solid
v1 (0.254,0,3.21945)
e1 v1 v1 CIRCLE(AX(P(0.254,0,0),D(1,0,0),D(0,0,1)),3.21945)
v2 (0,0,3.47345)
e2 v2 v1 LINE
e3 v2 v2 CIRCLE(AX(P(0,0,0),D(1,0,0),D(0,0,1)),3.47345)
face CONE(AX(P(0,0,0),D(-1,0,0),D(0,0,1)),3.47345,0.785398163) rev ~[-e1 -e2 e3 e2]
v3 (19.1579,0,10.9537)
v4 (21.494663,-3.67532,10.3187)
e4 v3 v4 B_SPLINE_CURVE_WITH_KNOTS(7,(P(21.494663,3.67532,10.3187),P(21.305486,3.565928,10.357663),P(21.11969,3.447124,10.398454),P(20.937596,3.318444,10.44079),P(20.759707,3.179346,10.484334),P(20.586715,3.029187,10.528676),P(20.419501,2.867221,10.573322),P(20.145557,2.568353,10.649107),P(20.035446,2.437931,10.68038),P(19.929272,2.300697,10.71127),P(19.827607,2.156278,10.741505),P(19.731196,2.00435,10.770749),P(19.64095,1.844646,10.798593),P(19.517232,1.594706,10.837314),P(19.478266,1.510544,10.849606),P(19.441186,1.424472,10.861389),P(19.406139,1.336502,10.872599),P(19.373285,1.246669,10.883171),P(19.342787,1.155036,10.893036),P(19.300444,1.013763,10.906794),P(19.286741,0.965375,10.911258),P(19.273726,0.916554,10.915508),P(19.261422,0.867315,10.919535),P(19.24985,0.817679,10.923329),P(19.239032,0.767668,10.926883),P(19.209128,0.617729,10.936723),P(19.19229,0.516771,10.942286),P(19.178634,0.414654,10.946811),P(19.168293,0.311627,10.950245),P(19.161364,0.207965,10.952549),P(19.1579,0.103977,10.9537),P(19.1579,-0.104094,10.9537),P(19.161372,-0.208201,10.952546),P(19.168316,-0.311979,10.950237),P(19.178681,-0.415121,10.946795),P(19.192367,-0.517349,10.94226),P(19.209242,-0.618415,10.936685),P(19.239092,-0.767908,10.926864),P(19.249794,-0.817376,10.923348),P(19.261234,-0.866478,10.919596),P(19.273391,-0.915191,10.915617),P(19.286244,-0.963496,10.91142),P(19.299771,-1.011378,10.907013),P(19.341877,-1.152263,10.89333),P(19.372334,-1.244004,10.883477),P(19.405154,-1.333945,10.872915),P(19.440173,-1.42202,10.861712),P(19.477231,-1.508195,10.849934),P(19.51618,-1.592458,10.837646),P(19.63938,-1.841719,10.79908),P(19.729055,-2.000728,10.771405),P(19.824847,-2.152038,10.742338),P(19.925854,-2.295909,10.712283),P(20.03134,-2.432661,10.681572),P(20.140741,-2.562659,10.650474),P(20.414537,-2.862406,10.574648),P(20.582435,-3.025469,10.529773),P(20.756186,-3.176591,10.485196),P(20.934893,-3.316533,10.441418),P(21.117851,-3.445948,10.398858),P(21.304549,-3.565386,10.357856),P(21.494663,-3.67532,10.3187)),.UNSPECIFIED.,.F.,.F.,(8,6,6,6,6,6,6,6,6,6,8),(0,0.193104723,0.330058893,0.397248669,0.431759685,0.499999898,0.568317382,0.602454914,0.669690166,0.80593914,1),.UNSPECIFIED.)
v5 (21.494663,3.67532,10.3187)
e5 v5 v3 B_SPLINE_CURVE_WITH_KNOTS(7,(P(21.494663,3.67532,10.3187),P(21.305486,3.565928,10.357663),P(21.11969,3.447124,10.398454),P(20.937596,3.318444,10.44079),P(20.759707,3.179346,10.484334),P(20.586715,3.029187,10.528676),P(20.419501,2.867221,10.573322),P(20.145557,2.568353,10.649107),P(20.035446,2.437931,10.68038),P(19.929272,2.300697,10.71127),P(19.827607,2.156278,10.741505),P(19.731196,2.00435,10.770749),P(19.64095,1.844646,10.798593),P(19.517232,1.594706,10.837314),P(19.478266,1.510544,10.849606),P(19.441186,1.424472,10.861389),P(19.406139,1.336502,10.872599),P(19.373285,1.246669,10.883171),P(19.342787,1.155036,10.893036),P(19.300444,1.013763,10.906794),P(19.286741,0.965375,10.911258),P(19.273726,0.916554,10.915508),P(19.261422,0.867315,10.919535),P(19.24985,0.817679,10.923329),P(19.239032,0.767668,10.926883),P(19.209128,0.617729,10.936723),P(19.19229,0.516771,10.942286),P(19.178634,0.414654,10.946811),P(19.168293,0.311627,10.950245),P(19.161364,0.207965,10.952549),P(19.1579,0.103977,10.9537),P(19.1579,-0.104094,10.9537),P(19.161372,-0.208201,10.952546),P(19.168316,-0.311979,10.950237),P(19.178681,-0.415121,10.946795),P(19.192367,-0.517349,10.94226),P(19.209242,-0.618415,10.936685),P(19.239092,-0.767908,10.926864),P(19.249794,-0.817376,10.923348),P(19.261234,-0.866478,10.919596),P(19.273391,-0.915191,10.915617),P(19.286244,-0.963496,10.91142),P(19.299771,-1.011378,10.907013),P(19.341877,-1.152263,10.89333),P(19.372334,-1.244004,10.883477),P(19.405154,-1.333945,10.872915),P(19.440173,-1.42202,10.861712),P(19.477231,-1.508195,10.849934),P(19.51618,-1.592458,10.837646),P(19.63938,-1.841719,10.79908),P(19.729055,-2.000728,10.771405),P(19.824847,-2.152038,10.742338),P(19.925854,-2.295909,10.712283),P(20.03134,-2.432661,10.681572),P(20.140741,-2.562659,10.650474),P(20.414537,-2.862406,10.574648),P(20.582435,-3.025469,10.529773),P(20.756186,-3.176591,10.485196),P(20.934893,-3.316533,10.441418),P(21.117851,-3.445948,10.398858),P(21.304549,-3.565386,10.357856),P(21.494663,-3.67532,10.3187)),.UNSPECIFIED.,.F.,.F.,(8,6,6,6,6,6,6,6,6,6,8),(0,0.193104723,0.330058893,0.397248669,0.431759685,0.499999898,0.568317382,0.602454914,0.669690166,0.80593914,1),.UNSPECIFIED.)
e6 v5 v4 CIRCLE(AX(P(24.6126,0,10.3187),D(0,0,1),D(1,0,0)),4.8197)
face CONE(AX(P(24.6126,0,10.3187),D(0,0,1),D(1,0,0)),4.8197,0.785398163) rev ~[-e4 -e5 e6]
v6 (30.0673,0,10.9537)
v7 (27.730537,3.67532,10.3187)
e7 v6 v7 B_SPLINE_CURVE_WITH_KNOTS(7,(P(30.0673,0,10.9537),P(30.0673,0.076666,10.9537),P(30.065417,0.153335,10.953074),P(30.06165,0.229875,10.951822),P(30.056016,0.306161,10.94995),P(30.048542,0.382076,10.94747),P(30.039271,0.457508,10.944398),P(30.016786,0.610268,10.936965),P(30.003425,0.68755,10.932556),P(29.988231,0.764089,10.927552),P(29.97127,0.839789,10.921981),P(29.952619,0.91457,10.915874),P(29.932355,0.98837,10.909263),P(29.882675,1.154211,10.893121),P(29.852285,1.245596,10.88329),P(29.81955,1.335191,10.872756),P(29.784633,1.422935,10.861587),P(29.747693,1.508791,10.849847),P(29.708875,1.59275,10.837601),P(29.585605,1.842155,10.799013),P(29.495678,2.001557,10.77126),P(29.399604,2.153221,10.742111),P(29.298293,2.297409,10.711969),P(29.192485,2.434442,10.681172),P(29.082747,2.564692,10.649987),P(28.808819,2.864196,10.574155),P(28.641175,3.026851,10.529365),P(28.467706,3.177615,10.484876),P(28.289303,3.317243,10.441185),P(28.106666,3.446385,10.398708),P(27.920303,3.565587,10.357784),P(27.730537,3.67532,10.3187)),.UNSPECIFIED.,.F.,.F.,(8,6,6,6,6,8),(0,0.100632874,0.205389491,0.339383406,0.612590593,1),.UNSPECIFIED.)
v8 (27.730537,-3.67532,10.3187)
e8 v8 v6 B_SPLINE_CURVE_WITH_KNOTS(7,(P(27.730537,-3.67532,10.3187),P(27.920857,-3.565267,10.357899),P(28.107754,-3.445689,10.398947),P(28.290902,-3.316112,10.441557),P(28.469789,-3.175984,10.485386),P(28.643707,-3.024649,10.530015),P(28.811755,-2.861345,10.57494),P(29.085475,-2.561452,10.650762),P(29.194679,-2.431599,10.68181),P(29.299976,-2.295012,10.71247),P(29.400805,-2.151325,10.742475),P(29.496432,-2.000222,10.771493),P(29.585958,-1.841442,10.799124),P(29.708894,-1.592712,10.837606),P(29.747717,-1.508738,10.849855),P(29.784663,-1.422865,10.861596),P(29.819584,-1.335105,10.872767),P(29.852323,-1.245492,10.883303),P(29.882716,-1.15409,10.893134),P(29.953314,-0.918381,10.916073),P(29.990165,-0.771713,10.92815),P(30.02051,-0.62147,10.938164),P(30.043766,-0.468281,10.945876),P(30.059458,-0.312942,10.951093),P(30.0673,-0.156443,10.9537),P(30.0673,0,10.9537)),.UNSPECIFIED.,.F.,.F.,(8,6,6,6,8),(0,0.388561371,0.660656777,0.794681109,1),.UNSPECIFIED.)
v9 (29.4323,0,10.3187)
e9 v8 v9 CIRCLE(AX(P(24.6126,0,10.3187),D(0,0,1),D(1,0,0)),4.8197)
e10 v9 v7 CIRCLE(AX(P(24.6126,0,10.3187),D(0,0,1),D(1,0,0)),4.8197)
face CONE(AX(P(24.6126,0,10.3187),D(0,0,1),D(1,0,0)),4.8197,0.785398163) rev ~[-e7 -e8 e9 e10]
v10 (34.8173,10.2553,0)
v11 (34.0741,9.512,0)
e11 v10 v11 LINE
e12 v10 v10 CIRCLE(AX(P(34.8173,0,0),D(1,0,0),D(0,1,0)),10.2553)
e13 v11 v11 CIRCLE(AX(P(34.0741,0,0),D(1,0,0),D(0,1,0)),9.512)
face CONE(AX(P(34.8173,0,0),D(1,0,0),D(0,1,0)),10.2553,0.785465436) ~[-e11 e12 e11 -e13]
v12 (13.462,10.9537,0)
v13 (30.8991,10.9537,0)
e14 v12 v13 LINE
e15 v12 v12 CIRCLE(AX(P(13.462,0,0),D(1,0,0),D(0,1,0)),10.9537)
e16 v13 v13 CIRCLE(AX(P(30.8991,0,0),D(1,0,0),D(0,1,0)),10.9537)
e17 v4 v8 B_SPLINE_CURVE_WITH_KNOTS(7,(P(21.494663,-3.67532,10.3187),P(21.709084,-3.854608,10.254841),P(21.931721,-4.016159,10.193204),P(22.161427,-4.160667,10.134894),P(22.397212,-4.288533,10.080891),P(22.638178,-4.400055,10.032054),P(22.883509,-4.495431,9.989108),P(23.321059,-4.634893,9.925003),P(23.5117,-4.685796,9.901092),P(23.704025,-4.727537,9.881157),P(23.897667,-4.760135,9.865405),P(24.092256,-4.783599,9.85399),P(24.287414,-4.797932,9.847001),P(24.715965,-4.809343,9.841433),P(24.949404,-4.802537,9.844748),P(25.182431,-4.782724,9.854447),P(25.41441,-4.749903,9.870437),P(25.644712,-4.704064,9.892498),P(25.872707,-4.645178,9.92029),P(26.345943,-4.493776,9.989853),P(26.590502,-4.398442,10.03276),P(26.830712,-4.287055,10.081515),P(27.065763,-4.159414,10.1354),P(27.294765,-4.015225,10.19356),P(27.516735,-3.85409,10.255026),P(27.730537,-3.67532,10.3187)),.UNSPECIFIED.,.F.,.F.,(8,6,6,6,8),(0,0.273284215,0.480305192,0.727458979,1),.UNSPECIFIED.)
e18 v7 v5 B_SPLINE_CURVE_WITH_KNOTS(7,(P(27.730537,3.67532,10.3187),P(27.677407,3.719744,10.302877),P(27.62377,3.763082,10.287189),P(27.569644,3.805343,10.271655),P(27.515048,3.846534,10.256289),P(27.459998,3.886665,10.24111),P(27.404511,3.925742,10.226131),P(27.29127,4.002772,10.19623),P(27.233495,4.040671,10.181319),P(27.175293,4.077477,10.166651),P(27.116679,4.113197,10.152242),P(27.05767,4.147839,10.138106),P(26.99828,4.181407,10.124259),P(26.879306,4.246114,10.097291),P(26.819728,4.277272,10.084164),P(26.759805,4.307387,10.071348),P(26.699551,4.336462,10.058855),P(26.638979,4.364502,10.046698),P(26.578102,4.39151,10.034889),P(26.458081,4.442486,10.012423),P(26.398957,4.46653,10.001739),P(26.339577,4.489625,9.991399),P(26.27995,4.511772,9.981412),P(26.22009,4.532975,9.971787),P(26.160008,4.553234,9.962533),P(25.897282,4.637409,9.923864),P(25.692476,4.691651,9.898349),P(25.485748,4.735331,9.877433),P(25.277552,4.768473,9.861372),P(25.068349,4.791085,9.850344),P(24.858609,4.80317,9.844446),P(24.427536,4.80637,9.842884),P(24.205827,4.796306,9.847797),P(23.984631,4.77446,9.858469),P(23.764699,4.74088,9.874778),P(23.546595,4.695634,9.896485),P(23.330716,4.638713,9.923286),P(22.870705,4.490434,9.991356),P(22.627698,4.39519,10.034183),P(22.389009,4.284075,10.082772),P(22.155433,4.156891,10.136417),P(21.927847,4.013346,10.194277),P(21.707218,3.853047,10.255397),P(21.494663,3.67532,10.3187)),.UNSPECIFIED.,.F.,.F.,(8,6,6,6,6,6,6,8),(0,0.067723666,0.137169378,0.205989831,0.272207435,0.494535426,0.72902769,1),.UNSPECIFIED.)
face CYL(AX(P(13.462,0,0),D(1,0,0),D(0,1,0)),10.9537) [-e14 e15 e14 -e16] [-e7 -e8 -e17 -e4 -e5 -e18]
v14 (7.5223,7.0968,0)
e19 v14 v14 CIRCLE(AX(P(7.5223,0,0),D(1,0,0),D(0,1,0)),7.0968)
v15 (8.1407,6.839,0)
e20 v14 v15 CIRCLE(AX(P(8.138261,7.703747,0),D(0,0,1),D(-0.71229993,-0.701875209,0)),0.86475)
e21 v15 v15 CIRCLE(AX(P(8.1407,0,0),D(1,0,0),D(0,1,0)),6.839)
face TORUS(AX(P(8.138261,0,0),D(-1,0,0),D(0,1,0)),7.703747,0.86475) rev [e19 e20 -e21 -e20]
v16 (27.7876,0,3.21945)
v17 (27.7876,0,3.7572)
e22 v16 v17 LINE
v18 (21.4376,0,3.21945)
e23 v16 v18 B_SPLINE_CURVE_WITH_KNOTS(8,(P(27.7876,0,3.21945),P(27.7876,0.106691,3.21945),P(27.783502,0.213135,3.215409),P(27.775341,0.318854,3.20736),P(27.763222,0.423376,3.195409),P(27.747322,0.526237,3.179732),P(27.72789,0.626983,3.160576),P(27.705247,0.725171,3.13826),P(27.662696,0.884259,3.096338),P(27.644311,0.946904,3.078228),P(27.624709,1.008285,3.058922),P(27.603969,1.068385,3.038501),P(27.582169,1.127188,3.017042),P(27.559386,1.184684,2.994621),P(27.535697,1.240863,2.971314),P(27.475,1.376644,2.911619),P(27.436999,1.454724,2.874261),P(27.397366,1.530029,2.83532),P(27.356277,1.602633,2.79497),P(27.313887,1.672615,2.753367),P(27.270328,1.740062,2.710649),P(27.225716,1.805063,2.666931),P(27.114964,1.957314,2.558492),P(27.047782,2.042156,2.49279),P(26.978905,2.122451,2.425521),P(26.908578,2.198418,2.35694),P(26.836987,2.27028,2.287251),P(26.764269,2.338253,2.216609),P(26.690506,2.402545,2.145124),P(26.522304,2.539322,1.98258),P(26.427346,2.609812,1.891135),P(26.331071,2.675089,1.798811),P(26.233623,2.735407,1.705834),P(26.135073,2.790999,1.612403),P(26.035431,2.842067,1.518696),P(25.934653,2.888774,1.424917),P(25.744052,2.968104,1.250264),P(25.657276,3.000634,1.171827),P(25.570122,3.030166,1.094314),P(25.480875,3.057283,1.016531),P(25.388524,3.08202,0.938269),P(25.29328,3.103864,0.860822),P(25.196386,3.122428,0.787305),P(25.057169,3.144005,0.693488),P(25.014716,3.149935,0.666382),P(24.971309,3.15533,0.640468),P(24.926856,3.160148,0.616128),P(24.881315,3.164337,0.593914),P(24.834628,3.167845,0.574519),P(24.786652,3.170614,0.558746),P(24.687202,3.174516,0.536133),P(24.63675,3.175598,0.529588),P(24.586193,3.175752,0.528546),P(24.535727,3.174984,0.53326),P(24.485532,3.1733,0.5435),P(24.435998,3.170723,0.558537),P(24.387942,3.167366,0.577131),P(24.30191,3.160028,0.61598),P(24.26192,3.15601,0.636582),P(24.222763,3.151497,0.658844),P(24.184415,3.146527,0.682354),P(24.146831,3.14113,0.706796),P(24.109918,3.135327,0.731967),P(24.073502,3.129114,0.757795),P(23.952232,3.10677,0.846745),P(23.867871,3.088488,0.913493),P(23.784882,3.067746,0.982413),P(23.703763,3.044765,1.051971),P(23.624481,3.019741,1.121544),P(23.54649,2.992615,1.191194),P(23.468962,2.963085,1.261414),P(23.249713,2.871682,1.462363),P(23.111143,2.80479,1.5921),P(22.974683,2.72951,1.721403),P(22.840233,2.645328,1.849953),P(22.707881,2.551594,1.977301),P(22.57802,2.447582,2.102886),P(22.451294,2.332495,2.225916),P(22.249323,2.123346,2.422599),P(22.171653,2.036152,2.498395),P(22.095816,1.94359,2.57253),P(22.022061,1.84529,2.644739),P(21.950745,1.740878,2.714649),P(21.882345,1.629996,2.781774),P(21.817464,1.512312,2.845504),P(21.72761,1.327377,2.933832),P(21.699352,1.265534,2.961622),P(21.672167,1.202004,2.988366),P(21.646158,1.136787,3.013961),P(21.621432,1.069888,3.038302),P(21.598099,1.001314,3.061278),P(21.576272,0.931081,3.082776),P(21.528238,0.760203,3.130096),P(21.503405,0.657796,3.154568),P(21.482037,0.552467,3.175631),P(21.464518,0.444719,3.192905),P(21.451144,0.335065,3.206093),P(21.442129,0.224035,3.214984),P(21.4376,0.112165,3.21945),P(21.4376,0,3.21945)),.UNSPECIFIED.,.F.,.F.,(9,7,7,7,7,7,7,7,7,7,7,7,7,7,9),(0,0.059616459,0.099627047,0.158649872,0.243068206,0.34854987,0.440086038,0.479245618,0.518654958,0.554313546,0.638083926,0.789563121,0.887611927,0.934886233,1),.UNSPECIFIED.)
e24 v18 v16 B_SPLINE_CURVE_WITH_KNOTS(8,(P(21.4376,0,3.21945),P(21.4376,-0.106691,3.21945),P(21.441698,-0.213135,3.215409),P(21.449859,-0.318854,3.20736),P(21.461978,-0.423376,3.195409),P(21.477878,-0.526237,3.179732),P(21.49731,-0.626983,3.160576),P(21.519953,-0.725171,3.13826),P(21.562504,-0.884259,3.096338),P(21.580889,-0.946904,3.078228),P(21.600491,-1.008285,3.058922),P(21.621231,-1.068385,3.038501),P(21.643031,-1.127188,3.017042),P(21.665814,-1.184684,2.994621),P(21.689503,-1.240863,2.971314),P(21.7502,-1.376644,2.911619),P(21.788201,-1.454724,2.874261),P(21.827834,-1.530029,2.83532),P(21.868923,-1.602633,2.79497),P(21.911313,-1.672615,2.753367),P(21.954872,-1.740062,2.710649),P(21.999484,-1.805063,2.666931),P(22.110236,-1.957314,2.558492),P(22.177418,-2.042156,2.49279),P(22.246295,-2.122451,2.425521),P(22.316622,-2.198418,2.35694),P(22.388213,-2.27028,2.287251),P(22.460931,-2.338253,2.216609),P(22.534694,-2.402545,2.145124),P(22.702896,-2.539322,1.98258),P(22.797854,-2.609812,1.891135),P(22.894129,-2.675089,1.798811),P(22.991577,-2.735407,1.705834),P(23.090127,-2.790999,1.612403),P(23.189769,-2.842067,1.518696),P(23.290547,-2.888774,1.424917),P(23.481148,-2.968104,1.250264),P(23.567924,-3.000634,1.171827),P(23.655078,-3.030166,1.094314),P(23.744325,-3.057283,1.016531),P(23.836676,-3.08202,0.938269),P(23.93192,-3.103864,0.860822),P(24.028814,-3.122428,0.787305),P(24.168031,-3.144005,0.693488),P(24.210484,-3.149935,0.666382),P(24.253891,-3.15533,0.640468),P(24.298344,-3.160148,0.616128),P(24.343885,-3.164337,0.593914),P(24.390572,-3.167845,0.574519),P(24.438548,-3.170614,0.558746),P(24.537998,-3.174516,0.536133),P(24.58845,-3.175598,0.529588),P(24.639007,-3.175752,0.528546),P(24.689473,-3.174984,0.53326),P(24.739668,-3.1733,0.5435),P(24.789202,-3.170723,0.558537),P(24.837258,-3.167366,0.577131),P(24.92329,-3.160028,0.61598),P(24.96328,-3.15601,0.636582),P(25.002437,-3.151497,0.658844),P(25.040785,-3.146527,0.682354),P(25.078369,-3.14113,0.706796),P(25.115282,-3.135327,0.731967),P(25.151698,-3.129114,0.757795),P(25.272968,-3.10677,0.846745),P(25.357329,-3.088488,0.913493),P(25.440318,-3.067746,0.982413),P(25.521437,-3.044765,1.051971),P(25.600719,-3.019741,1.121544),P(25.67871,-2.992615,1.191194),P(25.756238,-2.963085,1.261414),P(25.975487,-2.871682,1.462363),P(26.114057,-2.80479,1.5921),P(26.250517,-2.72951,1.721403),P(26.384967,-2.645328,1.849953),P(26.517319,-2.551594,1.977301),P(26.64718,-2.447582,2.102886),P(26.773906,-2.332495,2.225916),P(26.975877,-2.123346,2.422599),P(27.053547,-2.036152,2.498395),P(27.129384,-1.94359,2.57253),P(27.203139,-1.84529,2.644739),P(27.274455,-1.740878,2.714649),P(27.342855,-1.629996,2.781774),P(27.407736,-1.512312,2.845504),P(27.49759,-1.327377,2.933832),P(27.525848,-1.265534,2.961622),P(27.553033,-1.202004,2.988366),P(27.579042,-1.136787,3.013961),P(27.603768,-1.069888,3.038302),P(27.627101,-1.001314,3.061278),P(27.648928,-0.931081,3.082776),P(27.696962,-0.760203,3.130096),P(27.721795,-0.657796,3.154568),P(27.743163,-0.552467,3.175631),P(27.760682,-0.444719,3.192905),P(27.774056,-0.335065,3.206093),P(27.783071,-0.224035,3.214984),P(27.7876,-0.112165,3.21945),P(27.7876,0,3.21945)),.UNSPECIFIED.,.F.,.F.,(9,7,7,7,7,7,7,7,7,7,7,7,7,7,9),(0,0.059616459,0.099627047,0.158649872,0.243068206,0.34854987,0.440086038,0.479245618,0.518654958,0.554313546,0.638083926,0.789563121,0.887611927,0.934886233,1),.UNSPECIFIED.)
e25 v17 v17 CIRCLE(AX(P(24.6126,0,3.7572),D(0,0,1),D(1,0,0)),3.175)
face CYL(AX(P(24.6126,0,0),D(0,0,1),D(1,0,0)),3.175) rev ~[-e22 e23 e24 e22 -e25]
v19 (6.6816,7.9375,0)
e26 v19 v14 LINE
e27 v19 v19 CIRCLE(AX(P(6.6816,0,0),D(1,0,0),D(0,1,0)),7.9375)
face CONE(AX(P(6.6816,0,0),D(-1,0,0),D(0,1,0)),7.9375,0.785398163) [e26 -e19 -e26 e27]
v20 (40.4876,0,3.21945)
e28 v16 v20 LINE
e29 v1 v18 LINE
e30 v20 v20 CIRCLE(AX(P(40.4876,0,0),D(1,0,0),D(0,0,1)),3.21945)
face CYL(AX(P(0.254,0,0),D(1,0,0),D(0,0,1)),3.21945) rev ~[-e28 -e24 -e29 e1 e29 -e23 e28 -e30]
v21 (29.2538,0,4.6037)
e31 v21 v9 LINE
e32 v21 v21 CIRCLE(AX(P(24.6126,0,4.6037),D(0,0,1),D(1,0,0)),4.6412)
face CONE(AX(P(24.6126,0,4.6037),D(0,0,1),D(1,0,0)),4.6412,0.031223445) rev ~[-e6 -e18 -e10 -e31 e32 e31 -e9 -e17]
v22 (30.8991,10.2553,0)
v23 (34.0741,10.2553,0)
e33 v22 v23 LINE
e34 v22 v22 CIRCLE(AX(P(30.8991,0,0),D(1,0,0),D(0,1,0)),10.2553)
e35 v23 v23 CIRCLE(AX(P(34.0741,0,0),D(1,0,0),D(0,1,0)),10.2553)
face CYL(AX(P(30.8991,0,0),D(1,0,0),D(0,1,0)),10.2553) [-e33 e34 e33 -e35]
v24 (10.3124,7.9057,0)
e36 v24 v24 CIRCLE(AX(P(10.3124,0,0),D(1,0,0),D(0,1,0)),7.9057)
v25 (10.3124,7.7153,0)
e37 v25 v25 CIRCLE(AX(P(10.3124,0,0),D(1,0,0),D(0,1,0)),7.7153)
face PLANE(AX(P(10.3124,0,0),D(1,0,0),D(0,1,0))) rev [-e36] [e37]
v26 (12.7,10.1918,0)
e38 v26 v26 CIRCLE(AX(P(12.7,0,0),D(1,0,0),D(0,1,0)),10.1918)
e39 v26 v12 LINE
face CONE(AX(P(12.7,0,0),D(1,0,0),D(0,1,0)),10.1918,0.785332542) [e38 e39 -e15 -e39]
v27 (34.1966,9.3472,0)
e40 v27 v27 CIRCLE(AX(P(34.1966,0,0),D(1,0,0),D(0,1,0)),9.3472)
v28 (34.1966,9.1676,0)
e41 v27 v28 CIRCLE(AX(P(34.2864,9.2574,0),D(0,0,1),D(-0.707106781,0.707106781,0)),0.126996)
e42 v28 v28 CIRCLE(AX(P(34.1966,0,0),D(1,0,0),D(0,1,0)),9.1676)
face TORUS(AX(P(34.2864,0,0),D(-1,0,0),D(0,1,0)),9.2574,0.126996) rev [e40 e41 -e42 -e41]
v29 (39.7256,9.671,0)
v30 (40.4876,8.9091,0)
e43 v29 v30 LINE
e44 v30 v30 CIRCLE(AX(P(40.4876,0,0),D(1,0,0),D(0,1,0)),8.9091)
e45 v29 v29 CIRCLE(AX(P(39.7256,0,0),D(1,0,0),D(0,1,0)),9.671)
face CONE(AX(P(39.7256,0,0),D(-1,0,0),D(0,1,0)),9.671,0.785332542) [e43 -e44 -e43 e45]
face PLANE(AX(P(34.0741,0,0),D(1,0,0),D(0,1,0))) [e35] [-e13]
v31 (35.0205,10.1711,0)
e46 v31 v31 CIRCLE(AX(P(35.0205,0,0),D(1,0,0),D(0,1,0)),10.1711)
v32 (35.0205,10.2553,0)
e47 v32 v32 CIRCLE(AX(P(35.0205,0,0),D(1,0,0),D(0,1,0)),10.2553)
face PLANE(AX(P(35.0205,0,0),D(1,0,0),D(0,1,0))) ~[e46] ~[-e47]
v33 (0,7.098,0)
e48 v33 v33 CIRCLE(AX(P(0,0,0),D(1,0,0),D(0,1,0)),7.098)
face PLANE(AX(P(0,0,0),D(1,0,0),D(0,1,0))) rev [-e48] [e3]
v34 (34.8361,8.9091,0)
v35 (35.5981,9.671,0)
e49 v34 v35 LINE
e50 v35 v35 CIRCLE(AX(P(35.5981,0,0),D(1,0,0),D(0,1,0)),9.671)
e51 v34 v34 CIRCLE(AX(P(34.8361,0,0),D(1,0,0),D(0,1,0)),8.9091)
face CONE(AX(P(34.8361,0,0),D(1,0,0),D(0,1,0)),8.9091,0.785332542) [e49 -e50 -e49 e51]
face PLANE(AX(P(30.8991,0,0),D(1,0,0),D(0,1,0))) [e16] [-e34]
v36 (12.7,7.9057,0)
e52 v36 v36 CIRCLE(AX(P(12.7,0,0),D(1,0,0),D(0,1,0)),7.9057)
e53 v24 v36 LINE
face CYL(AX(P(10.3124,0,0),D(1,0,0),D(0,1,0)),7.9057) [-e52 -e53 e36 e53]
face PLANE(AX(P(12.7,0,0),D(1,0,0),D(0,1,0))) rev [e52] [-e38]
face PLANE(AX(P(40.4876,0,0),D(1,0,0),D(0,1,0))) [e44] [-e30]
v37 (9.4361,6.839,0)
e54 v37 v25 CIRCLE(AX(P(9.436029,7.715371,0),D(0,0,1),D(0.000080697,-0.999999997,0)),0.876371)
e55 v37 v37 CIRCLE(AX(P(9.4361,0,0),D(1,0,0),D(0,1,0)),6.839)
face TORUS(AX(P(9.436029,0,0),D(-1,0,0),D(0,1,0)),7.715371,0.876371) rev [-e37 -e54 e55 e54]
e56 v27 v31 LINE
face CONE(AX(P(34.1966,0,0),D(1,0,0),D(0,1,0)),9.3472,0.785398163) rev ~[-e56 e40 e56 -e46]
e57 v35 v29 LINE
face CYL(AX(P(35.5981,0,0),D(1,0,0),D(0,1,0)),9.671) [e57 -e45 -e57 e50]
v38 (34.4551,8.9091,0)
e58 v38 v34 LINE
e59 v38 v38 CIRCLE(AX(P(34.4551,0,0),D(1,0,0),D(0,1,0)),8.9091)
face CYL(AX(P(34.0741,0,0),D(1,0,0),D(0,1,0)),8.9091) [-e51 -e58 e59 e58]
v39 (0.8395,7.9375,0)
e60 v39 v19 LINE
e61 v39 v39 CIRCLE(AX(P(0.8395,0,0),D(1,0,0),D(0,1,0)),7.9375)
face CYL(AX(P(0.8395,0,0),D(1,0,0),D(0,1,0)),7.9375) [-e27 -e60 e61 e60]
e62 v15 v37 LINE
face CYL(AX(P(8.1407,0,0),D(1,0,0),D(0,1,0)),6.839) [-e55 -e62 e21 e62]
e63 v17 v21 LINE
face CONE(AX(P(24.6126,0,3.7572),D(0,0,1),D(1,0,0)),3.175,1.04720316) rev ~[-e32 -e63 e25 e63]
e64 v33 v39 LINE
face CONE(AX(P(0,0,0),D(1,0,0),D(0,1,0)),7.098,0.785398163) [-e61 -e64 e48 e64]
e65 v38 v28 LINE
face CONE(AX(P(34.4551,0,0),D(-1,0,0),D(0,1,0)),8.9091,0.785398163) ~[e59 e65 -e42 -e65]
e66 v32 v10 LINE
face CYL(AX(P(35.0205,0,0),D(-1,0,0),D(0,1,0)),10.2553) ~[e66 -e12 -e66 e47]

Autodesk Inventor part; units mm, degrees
sketch "Sketch_2" plane through (0, 0, 0) normal (0, 0, 1) x (1, 0, 0)
  line L0 (12.7, 0) -> (0, 0)
  line L1 (0, 0) -> (0, 7.098)
  line L2 (0, 7.098) -> (0.8395, 7.9375)
  line L3 (0.8395, 7.9375) -> (6.6816, 7.9375)
  line L4 (6.6816, 7.9375) -> (7.5223, 7.0968)
  arc A0 (7.5223, 7.0968) -> (8.1407, 6.839) centre (8.1385, 7.7041) ccw
  line L5 (8.1407, 6.839) -> (9.4361, 6.839)
  arc A1 (9.4361, 6.839) -> (10.3124, 7.7153) centre (9.4361, 7.7152) ccw
  line L6 (10.3124, 7.7153) -> (10.3124, 7.9057)
  line L7 (10.3124, 7.9057) -> (12.7, 7.9057)
  line L8 (12.7, 7.9057) -> (12.7, 0)
  line L9 (12.7, 0) -> (0, 0)
revolve "Revolution1" add sketch "Sketch_2" angle 360 about axis through (12.7, 0, 0) along (1, 0, 0)
thread "Thread1" size "5/8-18 UNF" class "2A" standard "ANSI Unified Screw Threads" full length
sketch "Sketch_3" plane through (0, 0, 0) normal (0, 0, 1) x (1, 0, 0)
  line L0 (40.4876, 0) -> (12.7, 0)
  line L1 (12.7, 0) -> (12.7, 10.1918)
  line L2 (12.7, 10.1918) -> (13.462, 10.9537)
  line L3 (13.462, 10.9537) -> (34.0741, 10.9537)
  line L4 (34.0741, 10.9537) -> (34.0741, 8.9091)
  line L5 (34.0741, 8.9091) -> (34.8361, 8.9091)
  line L6 (34.8361, 8.9091) -> (35.5981, 9.671)
  line L7 (35.5981, 9.671) -> (39.7256, 9.671)
  line L8 (39.7256, 9.671) -> (40.4876, 8.9091)
  line L9 (40.4876, 8.9091) -> (40.4876, 0)
  line L10 (40.4876, 0) -> (12.7, 0)
revolve "Revolution2" add sketch "Sketch_3" angle 360 about axis through (40.4876, 0, 0) along (1, 0, 0)
sketch "Sketch3" plane through (0, 0, 0) normal (-1, 0, 0) x (0, 0, 1)
  point P0 (0, 0)
hole "Drilling 1" at (0, 0, 0) direction (1, 0, 0) diameter 6.4389 depth 40.4876 countersink diameter 6.9469 countersink angle 90
sketch "Sketch_10" plane through (0, 0, 0) normal (0, 0, 1) x (1, 0, 0)
  line L0 (34.0741, 0) -> (30.8991, 0)
  line L1 (30.8991, 10.2553) -> (34.0741, 10.2553)
  line L2 (34.0741, 10.2553) -> (34.0741, 15.3353)
  line L3 (34.0741, 15.3353) -> (30.8991, 15.3353)
  line L4 (30.8991, 15.3353) -> (30.8991, 10.2553)
revolve "Revolution3" cut sketch "Sketch_10" angle 360 about axis through (34.0741, 0, 0) along (1, 0, 0)
sketch "Sketch_40" plane through (0, 0, 0) normal (0, 1, 0) x (-1, 0, 0)
  line L0 (-24.6126, 10.9537) -> (-24.6126, 0)
  line L1 (-24.6126, 0) -> (-27.7876, 0)
  line L2 (-27.7876, 0) -> (-27.7876, 3.7572)
  line L3 (-27.7876, 3.7572) -> (-29.2538, 4.6037)
  line L4 (-29.2538, 4.6037) -> (-29.4323, 10.3187)
  line L5 (-29.4323, 10.3187) -> (-30.0673, 10.9537)
  line L6 (-30.0673, 10.9537) -> (-24.6126, 10.9537)
  line L7 (-24.6126, 10.9537) -> (-24.6126, 0)
revolve "Revolution4" cut sketch "Sketch_40" angle 360 about axis through (24.6126, 0, 10.9537) along (0, 0, 1)
thread "Thread2" size "1/8" designation "1/8 - 27 NPT" standard "NPT" full length
sketch "Sketch_47" plane through (0, 0, 0) normal (0, 0, 1) x (1, 0, 0)
  line L0 (34.8361, 0) -> (34.0741, 0)
  line L1 (34.0741, 8.655) -> (34.8361, 8.655)
  line L2 (34.8361, 8.655) -> (34.8361, 8.9091)
  line L3 (34.8361, 8.9091) -> (34.4551, 8.9091)
  line L4 (34.4551, 8.9091) -> (34.1966, 9.1676)
  arc A0 (34.1966, 9.3472) -> (34.1966, 9.1676) centre (34.2864, 9.2574) ccw
  line L5 (34.1966, 9.3472) -> (35.0205, 10.1711)
  line L6 (35.0205, 10.1711) -> (35.0205, 10.2553)
  line L7 (35.0205, 10.2553) -> (34.8173, 10.2553)
  line L8 (34.8173, 10.2553) -> (34.0741, 9.512)
  line L9 (34.0741, 9.512) -> (34.0741, 8.655)
revolve "Revolution5" add sketch "Sketch_47" angle 360 about axis through (34.8361, 0, 0) along (1, 0, 0)
ref_plane "s1_XY" through (10.3124, 0, 0) normal (0, 0, 1) x (1, 0, 0)
ref_plane "s1_YZ" through (10.3124, 0, 0) normal (1, 0, 0) x (0, 1, 0)
ref_plane "s1_ZX" through (10.3124, 0, 0) normal (0, 1, 0) x (0, 0, 1)
ref_plane "s2_XY" through (12.7, 0, 0) normal (0, 0, 1) x (1, 0, 0)
ref_plane "s2_YZ" through (12.7, 0, 0) normal (1, 0, 0) x (0, 1, 0)
ref_plane "s2_ZX" through (12.7, 0, 0) normal (0, 1, 0) x (0, 0, 1)
ref_plane "dp1_XY" through (12.7, 7.9057, 0) normal (0, 0, 1) x (1, 0, 0)
ref_plane "dp1_YZ" through (12.7, 7.9057, 0) normal (1, 0, 0) x (0, 1, 0)
ref_plane "dp1_ZX" through (12.7, 7.9057, 0) normal (0, 1, 0) x (0, 0, 1)
ref_plane "dp2_XY" through (12.7, -7.9057, 0) normal (0, 0, 1) x (1, 0, 0)
ref_plane "dp2_YZ" through (12.7, -7.9057, 0) normal (1, 0, 0) x (0, 1, 0)
ref_plane "dp2_ZX" through (12.7, -7.9057, 0) normal (0, 1, 0) x (0, 0, 1)
ref_plane "rod_guide_XY" through (0, 0, 0) normal (1, 0, 0) x (0, 0, -1)
ref_plane "rod_guide_YZ" through (0, 0, 0) normal (0, 0, -1) x (0, 1, 0)
ref_plane "rod_guide_ZX" through (0, 0, 0) normal (0, 1, 0) x (1, 0, 0)
ref_plane "to_tube_XY" through (34.8361, 0, 0) normal (1, 0, 0) x (0, 0, -1)
ref_plane "to_tube_YZ" through (34.8361, 0, 0) normal (0, 0, -1) x (0, 1, 0)
ref_plane "to_tube_ZX" through (34.8361, 0, 0) normal (0, 1, 0) x (1, 0, 0)
ref_plane "to_foot_bracket_XY" through (12.7, 0, 0) normal (1, 0, 0) x (0, 0, -1)
ref_plane "to_foot_bracket_YZ" through (12.7, 0, 0) normal (0, 0, -1) x (0, 1, 0)
ref_plane "to_foot_bracket_ZX" through (12.7, 0, 0) normal (0, 1, 0) x (1, 0, 0)
ref_plane "to_nut_XY" through (10.3124, 0, 0) normal (1, 0, 0) x (0, 0, -1)
ref_plane "to_nut_YZ" through (10.3124, 0, 0) normal (0, 0, -1) x (0, 1, 0)
ref_plane "to_nut_ZX" through (10.3124, 0, 0) normal (0, 1, 0) x (1, 0, 0)
ref_plane "to_trunnion_brackets_XY" through (11.1252, 0, 0) normal (0, 1, 0) x (1, 0, 0)
ref_plane "to_trunnion_brackets_YZ" through (11.1252, 0, 0) normal (1, 0, 0) x (0, 0, -1)
ref_plane "to_trunnion_brackets_ZX" through (11.1252, 0, 0) normal (0, 0, -1) x (0, 1, 0)
ref_plane "to_trunnion_brackets1_XY" through (11.1252, 12.7, 0) normal (0, 1, 0) x (1, 0, 0)
ref_plane "to_trunnion_brackets1_YZ" through (11.1252, 12.7, 0) normal (1, 0, 0) x (0, 0, -1)
ref_plane "to_trunnion_brackets1_ZX" through (11.1252, 12.7, 0) normal (0, 0, -1) x (0, 1, 0)
ref_plane "to_trunnion_brackets2_XY" through (11.1252, -12.7, 0) normal (0, 1, 0) x (1, 0, 0)
ref_plane "to_trunnion_brackets2_YZ" through (11.1252, -12.7, 0) normal (1, 0, 0) x (0, 0, -1)
ref_plane "to_trunnion_brackets2_ZX" through (11.1252, -12.7, 0) normal (0, 0, -1) x (0, 1, 0)
ref_plane "t111_XY" through (12.7, 0, 0) normal (1, 0, 0) x (0, 0, -1)
ref_plane "t111_YZ" through (12.7, 0, 0) normal (0, 0, -1) x (0, 1, 0)
ref_plane "t111_ZX" through (12.7, 0, 0) normal (0, 1, 0) x (1, 0, 0)
ref_plane "t1_XY" through (12.7, 0, 0) normal (1, 0, 0) x (0, 0, -1)
ref_plane "t1_YZ" through (12.7, 0, 0) normal (0, 0, -1) x (0, 1, 0)
ref_plane "t1_ZX" through (12.7, 0, 0) normal (0, 1, 0) x (1, 0, 0)
ref_plane "port_XY" through (24.6126, 0, 0) normal (0, 0, 1) x (1, 0, 0)
ref_plane "port_YZ" through (24.6126, 0, 0) normal (1, 0, 0) x (0, 1, 0)
ref_plane "port_ZX" through (24.6126, 0, 0) normal (0, 1, 0) x (0, 0, 1)
ref_plane "to_screw_XY" through (24.6126, 2.032, -6.0452) normal (0, 1, 0) x (1, 0, 0)
ref_plane "to_screw_YZ" through (24.6126, 2.032, -6.0452) normal (1, 0, 0) x (0, 0, -1)
ref_plane "to_screw_ZX" through (24.6126, 2.032, -6.0452) normal (0, 0, -1) x (0, 1, 0)
properties part number "04R000_rod_guide"
